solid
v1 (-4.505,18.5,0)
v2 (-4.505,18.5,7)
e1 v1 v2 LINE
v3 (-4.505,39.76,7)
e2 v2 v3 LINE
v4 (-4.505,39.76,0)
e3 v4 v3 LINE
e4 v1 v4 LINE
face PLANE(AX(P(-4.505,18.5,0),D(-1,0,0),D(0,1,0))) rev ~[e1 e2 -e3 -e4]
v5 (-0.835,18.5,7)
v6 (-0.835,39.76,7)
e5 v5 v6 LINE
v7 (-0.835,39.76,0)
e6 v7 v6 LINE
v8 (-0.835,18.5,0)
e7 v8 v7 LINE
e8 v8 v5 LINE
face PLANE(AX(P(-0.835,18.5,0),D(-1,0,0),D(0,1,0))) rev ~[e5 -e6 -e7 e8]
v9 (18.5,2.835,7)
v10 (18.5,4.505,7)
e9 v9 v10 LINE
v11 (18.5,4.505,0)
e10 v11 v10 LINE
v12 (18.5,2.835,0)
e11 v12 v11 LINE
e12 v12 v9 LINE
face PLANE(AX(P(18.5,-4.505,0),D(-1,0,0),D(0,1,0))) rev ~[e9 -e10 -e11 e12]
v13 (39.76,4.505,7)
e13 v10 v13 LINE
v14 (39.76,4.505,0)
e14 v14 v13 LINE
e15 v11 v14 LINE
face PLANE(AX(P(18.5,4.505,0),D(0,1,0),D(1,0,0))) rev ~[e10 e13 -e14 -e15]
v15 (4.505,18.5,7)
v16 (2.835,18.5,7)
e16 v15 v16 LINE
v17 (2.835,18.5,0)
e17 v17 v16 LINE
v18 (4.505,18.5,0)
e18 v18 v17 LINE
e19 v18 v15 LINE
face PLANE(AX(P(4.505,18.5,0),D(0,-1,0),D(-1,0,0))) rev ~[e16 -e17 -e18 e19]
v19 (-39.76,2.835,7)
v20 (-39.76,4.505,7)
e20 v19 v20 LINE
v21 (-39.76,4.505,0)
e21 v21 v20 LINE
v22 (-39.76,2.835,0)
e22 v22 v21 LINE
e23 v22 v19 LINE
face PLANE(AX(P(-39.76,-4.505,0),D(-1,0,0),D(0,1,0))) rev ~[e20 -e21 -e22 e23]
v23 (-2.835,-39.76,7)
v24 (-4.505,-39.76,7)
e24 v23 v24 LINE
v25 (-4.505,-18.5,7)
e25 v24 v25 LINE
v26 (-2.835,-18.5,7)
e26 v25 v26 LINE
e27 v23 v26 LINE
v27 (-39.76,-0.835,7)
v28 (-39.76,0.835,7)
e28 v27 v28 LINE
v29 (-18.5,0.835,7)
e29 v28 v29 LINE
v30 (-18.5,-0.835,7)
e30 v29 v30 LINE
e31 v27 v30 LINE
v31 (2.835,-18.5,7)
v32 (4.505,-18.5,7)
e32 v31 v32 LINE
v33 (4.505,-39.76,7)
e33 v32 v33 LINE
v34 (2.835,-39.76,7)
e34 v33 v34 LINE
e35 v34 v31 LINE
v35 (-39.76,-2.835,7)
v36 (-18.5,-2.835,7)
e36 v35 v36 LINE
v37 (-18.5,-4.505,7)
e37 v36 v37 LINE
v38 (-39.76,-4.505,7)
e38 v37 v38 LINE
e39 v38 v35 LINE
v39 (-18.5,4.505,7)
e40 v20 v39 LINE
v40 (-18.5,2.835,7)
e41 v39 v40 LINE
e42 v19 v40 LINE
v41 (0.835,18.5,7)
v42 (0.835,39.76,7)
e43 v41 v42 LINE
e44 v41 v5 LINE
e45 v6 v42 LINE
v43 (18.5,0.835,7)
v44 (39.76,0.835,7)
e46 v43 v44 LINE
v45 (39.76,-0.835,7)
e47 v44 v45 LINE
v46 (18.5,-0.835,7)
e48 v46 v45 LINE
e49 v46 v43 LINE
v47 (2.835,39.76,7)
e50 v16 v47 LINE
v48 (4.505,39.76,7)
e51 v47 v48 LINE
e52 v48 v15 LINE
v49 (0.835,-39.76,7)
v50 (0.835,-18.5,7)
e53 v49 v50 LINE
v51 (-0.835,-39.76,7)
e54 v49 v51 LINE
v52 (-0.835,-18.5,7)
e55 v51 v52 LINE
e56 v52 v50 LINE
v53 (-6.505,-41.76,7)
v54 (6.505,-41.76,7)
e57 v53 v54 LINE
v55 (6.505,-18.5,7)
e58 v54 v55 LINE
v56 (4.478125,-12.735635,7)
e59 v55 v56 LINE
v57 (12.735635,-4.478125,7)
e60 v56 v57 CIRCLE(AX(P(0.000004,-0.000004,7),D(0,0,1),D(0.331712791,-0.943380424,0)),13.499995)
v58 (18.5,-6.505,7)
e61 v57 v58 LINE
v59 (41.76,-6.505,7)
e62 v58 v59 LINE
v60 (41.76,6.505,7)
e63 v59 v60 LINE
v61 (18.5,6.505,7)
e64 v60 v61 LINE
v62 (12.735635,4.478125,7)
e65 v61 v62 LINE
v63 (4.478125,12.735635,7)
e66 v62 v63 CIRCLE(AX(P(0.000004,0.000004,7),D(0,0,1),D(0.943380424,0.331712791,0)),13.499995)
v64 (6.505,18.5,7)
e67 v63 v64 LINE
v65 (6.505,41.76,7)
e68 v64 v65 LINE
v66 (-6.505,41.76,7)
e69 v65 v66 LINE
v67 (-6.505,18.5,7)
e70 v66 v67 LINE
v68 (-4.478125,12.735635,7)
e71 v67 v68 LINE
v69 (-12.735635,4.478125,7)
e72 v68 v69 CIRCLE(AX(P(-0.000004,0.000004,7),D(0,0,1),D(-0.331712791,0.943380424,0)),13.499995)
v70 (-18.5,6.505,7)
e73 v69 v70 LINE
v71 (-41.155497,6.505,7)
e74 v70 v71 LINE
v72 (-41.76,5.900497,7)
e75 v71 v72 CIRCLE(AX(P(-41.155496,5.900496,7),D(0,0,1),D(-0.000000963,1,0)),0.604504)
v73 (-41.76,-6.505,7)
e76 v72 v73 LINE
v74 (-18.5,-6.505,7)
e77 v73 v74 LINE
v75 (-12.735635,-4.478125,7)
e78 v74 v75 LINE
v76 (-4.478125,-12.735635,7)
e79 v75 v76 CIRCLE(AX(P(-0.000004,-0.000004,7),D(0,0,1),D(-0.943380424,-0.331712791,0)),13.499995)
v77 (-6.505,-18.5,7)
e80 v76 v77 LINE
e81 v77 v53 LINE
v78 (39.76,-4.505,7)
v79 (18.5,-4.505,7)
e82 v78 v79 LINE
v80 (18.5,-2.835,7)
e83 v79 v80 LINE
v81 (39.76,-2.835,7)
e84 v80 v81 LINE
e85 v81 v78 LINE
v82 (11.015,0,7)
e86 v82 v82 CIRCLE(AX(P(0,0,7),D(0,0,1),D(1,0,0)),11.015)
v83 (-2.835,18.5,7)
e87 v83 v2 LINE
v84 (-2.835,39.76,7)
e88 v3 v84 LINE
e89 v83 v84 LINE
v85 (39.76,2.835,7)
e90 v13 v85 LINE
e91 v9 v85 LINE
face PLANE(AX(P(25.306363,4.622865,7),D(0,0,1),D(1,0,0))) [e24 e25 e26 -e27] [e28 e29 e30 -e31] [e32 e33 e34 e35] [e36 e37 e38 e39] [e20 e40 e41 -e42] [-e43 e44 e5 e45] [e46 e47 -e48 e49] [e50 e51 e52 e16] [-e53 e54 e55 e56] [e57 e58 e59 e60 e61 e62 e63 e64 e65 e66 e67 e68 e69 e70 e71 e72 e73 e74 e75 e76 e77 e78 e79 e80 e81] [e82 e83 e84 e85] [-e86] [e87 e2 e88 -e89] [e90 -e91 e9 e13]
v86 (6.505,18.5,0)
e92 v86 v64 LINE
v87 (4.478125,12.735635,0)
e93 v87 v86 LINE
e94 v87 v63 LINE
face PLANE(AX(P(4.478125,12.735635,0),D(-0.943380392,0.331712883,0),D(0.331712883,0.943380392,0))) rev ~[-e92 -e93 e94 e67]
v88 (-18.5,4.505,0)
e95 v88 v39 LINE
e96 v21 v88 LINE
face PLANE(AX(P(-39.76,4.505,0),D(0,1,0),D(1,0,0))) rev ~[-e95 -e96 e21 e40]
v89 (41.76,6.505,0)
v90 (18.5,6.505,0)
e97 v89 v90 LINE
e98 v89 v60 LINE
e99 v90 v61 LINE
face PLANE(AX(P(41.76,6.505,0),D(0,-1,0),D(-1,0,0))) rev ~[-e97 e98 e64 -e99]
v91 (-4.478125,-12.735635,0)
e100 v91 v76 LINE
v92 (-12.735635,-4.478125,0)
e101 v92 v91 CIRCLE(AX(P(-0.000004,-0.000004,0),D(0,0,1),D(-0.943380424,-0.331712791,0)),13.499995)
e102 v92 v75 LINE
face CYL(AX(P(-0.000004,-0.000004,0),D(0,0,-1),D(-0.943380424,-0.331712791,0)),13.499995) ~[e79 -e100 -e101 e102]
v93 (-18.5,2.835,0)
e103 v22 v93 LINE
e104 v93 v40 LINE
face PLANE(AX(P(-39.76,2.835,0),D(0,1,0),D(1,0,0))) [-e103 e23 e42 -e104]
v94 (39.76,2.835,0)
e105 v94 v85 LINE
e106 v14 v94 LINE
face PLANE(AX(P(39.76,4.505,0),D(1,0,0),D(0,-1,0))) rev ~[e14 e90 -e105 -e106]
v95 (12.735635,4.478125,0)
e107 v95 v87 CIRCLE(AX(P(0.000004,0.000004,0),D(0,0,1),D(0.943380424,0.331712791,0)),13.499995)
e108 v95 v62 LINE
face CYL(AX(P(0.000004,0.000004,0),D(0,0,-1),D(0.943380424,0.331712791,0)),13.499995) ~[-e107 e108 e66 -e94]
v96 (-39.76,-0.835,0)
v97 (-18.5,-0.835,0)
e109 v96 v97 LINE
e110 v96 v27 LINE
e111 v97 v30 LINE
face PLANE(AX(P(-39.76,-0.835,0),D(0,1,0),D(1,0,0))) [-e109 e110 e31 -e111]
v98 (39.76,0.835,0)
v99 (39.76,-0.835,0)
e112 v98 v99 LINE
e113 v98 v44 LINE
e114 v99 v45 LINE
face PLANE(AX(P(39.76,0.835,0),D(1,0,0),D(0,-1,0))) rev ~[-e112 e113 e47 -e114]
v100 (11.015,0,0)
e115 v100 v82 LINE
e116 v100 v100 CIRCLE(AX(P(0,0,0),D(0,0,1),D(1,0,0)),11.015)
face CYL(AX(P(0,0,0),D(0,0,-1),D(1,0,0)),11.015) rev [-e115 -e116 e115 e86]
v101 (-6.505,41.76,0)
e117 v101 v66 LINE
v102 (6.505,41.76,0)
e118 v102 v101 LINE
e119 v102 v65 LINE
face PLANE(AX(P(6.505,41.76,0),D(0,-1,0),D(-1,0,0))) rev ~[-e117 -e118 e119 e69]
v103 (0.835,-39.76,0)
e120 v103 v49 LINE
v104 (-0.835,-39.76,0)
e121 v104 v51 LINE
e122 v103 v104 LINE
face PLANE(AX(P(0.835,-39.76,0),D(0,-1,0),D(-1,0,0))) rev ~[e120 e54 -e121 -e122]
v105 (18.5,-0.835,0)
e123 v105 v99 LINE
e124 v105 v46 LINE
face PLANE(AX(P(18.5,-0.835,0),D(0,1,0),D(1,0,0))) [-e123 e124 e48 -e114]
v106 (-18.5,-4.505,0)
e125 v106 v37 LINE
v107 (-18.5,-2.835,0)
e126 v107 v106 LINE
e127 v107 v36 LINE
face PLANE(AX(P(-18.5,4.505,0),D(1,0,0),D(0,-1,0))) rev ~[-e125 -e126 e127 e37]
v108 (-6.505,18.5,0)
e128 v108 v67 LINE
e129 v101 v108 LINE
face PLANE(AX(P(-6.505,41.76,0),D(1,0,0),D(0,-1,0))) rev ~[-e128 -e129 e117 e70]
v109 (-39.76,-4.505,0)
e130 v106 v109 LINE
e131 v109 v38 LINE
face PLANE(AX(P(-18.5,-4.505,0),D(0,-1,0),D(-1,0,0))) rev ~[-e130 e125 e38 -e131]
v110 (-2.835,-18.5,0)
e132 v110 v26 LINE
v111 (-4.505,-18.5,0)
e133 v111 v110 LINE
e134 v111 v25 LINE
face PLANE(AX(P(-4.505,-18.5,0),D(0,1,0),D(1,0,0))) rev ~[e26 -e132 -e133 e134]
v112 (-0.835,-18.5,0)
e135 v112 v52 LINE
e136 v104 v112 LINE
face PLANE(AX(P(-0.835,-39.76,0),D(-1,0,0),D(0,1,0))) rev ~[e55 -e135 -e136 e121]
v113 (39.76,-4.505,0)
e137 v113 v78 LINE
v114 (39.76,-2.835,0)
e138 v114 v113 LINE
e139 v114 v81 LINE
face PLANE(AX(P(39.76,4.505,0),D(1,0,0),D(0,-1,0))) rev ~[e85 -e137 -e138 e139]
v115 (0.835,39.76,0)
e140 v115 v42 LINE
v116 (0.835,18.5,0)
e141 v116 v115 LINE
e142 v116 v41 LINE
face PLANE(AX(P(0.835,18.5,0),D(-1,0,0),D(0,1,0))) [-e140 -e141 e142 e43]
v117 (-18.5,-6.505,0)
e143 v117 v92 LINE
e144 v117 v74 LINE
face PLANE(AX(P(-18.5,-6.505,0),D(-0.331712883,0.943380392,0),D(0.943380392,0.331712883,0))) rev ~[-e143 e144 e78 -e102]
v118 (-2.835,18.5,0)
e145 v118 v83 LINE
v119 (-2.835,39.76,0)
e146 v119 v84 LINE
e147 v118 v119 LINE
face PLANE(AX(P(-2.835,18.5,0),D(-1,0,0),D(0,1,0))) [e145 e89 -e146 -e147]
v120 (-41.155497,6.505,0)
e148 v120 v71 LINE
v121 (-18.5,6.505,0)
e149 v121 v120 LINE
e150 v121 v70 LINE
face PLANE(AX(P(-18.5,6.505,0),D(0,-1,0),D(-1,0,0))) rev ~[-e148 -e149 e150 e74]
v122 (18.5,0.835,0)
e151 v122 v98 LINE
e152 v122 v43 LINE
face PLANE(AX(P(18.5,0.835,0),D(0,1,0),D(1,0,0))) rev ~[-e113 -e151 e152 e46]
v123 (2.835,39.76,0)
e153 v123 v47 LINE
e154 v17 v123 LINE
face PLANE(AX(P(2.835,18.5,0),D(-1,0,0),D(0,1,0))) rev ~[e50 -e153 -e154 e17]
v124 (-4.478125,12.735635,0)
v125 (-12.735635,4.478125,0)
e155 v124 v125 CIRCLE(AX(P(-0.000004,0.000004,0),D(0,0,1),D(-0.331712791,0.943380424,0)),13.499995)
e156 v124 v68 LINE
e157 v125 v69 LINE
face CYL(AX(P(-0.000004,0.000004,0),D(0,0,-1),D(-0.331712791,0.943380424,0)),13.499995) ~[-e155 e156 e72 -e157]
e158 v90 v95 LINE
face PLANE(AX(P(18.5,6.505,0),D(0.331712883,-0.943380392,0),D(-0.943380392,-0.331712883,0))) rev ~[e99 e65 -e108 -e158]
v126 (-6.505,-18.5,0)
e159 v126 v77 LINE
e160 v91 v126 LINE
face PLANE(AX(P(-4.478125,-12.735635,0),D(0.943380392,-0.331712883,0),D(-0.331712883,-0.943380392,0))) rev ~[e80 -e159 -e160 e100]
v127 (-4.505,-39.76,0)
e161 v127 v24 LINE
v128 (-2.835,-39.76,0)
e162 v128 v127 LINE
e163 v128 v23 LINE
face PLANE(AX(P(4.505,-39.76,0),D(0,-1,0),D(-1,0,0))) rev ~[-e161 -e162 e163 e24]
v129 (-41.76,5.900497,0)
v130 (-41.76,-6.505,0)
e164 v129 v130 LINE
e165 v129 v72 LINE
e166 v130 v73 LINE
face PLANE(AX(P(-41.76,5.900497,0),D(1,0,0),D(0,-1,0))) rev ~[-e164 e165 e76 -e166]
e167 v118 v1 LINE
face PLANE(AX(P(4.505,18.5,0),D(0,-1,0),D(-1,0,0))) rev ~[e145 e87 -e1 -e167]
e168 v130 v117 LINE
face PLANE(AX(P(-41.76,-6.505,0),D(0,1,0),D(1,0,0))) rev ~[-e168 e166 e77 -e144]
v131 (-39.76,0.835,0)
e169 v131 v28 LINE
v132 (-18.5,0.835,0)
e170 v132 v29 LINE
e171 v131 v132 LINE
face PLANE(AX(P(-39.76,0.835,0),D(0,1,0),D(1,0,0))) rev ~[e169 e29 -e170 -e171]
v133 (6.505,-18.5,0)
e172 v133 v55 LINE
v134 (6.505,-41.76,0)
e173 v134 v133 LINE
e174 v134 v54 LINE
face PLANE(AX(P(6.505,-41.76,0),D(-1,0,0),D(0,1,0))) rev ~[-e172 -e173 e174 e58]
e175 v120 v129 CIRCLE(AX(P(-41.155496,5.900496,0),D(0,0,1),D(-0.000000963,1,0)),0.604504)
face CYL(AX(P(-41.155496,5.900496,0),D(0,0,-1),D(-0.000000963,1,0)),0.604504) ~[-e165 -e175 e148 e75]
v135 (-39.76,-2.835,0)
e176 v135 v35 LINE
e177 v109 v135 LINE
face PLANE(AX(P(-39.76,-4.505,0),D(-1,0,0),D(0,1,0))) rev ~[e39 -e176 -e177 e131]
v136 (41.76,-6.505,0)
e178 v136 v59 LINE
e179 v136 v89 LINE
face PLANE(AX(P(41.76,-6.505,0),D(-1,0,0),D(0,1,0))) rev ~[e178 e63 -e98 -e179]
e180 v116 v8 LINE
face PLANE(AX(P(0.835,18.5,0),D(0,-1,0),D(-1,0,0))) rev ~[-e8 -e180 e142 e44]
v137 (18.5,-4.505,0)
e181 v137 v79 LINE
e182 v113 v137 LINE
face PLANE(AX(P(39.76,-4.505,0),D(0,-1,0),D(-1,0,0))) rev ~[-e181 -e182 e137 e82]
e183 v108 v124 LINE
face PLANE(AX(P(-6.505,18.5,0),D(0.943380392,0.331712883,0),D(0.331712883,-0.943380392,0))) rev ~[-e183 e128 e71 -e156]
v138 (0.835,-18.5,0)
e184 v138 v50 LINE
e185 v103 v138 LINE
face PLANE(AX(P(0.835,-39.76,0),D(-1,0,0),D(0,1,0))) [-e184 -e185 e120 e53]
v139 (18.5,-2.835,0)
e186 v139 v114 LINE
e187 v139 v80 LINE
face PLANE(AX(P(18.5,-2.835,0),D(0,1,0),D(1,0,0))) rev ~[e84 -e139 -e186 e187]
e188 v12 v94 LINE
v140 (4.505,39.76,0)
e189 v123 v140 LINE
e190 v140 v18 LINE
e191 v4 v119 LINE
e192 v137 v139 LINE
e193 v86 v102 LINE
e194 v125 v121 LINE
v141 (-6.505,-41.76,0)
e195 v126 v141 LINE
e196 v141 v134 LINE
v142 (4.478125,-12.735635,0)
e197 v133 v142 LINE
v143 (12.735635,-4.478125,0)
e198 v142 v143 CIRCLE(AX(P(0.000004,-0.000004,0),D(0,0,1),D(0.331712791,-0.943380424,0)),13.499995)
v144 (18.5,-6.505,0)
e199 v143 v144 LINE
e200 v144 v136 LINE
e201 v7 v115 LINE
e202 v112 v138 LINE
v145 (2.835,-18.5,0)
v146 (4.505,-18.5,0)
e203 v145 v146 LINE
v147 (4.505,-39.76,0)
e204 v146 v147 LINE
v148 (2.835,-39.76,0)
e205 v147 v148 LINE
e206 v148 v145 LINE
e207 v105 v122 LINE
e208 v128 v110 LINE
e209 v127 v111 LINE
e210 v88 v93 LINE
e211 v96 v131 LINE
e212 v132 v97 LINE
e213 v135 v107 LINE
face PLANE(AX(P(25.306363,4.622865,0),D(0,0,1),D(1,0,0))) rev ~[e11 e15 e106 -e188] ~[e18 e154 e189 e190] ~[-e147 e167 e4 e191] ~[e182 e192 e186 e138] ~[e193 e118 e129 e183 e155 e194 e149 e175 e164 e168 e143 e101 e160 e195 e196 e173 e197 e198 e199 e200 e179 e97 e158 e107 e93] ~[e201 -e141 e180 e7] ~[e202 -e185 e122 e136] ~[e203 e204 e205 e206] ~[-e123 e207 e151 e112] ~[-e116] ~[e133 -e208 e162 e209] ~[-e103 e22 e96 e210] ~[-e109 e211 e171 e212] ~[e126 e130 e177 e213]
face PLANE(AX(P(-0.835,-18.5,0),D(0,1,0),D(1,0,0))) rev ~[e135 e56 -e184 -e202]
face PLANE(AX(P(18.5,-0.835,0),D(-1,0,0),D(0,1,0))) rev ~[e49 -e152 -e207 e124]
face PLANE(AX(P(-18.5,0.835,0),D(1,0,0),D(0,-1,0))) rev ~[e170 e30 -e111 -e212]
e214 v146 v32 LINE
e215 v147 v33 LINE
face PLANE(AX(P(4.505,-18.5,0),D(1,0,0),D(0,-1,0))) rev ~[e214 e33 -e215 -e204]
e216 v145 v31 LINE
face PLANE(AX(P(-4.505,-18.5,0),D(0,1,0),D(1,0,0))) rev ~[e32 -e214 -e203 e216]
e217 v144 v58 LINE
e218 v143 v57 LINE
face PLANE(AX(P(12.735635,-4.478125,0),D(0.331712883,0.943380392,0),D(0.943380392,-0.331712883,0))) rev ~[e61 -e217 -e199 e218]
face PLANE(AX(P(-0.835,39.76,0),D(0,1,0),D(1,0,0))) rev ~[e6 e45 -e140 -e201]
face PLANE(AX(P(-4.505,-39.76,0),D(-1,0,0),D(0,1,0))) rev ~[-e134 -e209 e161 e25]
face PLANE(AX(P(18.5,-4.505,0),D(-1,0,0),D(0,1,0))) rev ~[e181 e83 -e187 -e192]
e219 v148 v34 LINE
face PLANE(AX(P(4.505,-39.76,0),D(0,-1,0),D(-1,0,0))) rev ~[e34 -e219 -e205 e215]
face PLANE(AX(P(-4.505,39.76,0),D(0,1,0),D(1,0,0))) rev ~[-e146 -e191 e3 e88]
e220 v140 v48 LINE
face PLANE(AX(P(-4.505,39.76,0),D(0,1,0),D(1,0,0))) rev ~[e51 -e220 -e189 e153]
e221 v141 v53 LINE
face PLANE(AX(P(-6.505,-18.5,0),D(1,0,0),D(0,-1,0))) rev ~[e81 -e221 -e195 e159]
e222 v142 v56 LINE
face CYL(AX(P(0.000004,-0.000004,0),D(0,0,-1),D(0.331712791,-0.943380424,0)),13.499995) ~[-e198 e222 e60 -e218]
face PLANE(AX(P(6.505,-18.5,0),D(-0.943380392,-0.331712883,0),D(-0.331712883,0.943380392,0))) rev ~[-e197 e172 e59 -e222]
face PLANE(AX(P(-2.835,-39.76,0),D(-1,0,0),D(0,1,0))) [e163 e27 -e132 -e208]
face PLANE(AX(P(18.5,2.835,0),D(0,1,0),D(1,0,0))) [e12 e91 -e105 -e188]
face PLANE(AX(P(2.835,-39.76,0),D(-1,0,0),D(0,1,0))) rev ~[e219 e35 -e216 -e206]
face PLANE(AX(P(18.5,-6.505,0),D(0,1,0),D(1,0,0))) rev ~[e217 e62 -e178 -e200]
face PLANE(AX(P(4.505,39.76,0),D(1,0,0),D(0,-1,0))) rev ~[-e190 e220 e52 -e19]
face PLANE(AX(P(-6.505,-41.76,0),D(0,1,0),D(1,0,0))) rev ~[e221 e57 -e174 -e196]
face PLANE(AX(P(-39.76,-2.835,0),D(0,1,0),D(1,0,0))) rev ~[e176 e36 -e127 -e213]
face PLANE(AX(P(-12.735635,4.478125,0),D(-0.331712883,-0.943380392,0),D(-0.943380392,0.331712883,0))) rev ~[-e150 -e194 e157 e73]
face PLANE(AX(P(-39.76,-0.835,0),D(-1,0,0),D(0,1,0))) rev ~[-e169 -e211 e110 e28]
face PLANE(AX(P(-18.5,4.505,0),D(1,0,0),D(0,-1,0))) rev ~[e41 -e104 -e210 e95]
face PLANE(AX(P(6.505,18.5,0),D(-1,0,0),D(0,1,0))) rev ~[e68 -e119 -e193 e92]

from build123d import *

# Parameters (mm, degrees)
F0_R     = 11.015
F1_DEPTH = 7
F2_DEPTH = 7
F3_DEPTH = 7
F0_W     = 2
F0_H     = 21.26
F0_W_2   = 21.26
F0_H_2   = 2
F4_DEPTH = 7


with BuildPart() as f1:
    # F0 (on Top) → F1 (new body)
    with BuildSketch(Plane.XY):
        with BuildLine():
            ThreePointArc((12.735635, 4.478125), (13.307537, 2.271445), (13.5, 0))
            Line((13.5, 0), (18.5, 0))
            Line((18.5, 0), (18.5, 0.835))
            Line((18.5, 0.835), (18.5, 2.835))
            Line((18.5, 2.835), (18.5, 4.505))
            Line((18.5, 4.505), (39.76, 4.505))
            Line((39.76, 4.505), (39.76, 6.505))
            Line((39.76, 6.505), (18.5, 6.505))
            Line((18.5, 6.505), (12.735635, 4.478125))
        make_face()
        with BuildLine():
            ThreePointArc((0, 13.5), (2.271445, 13.307537), (4.478125, 12.735635))
            Line((4.478125, 12.735635), (6.505, 18.5))
            Line((6.505, 18.5), (6.505, 39.76))
            Line((6.505, 39.76), (4.505, 39.76))
            Line((4.505, 39.76), (4.505, 18.5))
            Line((4.505, 18.5), (2.835, 18.5))
            Line((2.835, 18.5), (0.835, 18.5))
            Line((0.835, 18.5), (0, 18.5))
            Line((0, 18.5), (0, 13.5))
        make_face()
        with BuildLine():
            ThreePointArc((-4.478125, 12.735635), (-2.271445, 13.307537), (0, 13.5))
            Line((0, 13.5), (0, 18.5))
            Line((0, 18.5), (-0.835, 18.5))
            Line((-0.835, 18.5), (-2.835, 18.5))
            Line((-2.835, 18.5), (-4.505, 18.5))
            Line((-4.505, 18.5), (-4.505, 39.76))
            Line((-4.505, 39.76), (-6.505, 39.76))
            Line((-6.505, 39.76), (-6.505, 18.5))
            Line((-6.505, 18.5), (-4.478125, 12.735635))
        make_face()
        with BuildLine():
            ThreePointArc((-13.5, 0), (-13.307537, 2.271445), (-12.735635, 4.478125))
            Line((-12.735635, 4.478125), (-18.5, 6.505))
            Line((-18.5, 6.505), (-39.76, 6.505))
            Line((-39.76, 6.505), (-39.76, 4.505))
            Line((-39.76, 4.505), (-18.5, 4.505))
            Line((-18.5, 4.505), (-18.5, 2.835))
            Line((-18.5, 2.835), (-18.5, 0.835))
            Line((-18.5, 0.835), (-18.5, 0))
            Line((-18.5, 0), (-13.5, 0))
        make_face()
        with BuildLine():
            Line((-18.5, -6.505), (-12.735635, -4.478125))
            ThreePointArc((-12.735635, -4.478125), (-13.307537, -2.271445), (-13.5, 0))
            Line((-13.5, 0), (-18.5, 0))
            Line((-18.5, 0), (-18.5, -0.835))
            Line((-18.5, -0.835), (-18.5, -2.835))
            Line((-18.5, -2.835), (-18.5, -4.505))
            Line((-18.5, -4.505), (-39.76, -4.505))
            Line((-39.76, -4.505), (-39.76, -6.505))
            Line((-39.76, -6.505), (-18.5, -6.505))
        make_face()
        with BuildLine():
            Line((0, -18.5), (0, -13.5))
            ThreePointArc((0, -13.5), (-2.271445, -13.307537), (-4.478125, -12.735635))
            Line((-4.478125, -12.735635), (-6.505, -18.5))
            Line((-6.505, -18.5), (-6.505, -39.76))
            Line((-6.505, -39.76), (-4.505, -39.76))
            Line((-4.505, -39.76), (-4.505, -18.5))
            Line((-4.505, -18.5), (-2.835, -18.5))
            Line((-2.835, -18.5), (-0.835, -18.5))
            Line((-0.835, -18.5), (0, -18.5))
        make_face()
        with BuildLine():
            Line((6.505, -18.5), (4.478125, -12.735635))
            ThreePointArc((4.478125, -12.735635), (2.271445, -13.307537), (0, -13.5))
            Line((0, -13.5), (0, -18.5))
            Line((0, -18.5), (0.835, -18.5))
            Line((0.835, -18.5), (2.835, -18.5))
            Line((2.835, -18.5), (4.505, -18.5))
            Line((4.505, -18.5), (4.505, -39.76))
            Line((4.505, -39.76), (6.505, -39.76))
            Line((6.505, -39.76), (6.505, -18.5))
        make_face()
        with BuildLine():
            Line((18.5, 0), (13.5, 0))
            ThreePointArc((13.5, 0), (13.307537, -2.271445), (12.735635, -4.478125))
            Line((12.735635, -4.478125), (18.5, -6.505))
            Line((18.5, -6.505), (39.76, -6.505))
            Line((39.76, -6.505), (39.76, -4.505))
            Line((39.76, -4.505), (18.5, -4.505))
            Line((18.5, -4.505), (18.5, -2.835))
            Line((18.5, -2.835), (18.5, -0.835))
            Line((18.5, -0.835), (18.5, 0))
        make_face()
        Polygon((4.505, 39.76), (6.505, 39.76), (6.505, 41.76), (-6.505, 41.76), (-6.505, 39.76), (-4.505, 39.76), (-2.835, 39.76), (-0.835, 39.76), (0, 39.76), (0.835, 39.76), (2.835, 39.76), align=None)
        with BuildLine():
            Line((-39.76, 4.505), (-39.76, 6.505))
            Line((-39.76, 6.505), (-41.155497, 6.505))
            ThreePointArc((-41.155497, 6.505), (-41.582945, 6.327945), (-41.76, 5.900497))
            Line((-41.76, 5.900497), (-41.76, -6.505))
            Line((-41.76, -6.505), (-39.76, -6.505))
            Line((-39.76, -6.505), (-39.76, -4.505))
            Line((-39.76, -4.505), (-39.76, -2.835))
            Line((-39.76, -2.835), (-39.76, -0.835))
            Line((-39.76, -0.835), (-39.76, 0))
            Line((-39.76, 0), (-39.76, 0.835))
            Line((-39.76, 0.835), (-39.76, 2.835))
            Line((-39.76, 2.835), (-39.76, 4.505))
        make_face()
        Polygon((6.505, -41.76), (6.505, -39.76), (4.505, -39.76), (2.835, -39.76), (0.835, -39.76), (0, -39.76), (-0.835, -39.76), (-2.835, -39.76), (-4.505, -39.76), (-6.505, -39.76), (-6.505, -41.76), align=None)
        Polygon((41.76, 6.505), (39.76, 6.505), (39.76, 4.505), (39.76, 2.835), (39.76, 0.835), (39.76, 0), (39.76, -0.835), (39.76, -2.835), (39.76, -4.505), (39.76, -6.505), (41.76, -6.505), align=None)
        with BuildLine():
            ThreePointArc((12.735635, -4.478125), (13.307537, -2.271445), (13.5, 0))
            ThreePointArc((13.5, 0), (13.307537, 2.271445), (12.735635, 4.478125))
            ThreePointArc((12.735635, 4.478125), (9.545942, 9.545942), (4.478125, 12.735635))
            ThreePointArc((4.478125, 12.735635), (2.271445, 13.307537), (0, 13.5))
            ThreePointArc((0, 13.5), (-2.271445, 13.307537), (-4.478125, 12.735635))
            ThreePointArc((-4.478125, 12.735635), (-9.545942, 9.545942), (-12.735635, 4.478125))
            ThreePointArc((-12.735635, 4.478125), (-13.307537, 2.271445), (-13.5, 0))
            ThreePointArc((-13.5, 0), (-13.307537, -2.271445), (-12.735635, -4.478125))
            ThreePointArc((-12.735635, -4.478125), (-9.545942, -9.545942), (-4.478125, -12.735635))
            ThreePointArc((-4.478125, -12.735635), (-2.271445, -13.307537), (0, -13.5))
            ThreePointArc((0, -13.5), (2.271445, -13.307537), (4.478125, -12.735635))
            ThreePointArc((4.478125, -12.735635), (9.545942, -9.545942), (12.735635, -4.478125))
        make_face()
        Circle(F0_R, mode=Mode.SUBTRACT)
    extrude(amount=F1_DEPTH)

    # F0 (on Top) → F2 (join)
    with BuildSketch(Plane.XY):
        with BuildLine():
            ThreePointArc((12.735635, 4.478125), (13.307537, 2.271445), (13.5, 0))
            Line((13.5, 0), (18.5, 0))
            Line((18.5, 0), (18.5, 0.835))
            Line((18.5, 0.835), (18.5, 2.835))
            Line((18.5, 2.835), (18.5, 4.505))
            Line((18.5, 4.505), (39.76, 4.505))
            Line((39.76, 4.505), (39.76, 6.505))
            Line((39.76, 6.505), (18.5, 6.505))
            Line((18.5, 6.505), (12.735635, 4.478125))
        make_face()
        with BuildLine():
            ThreePointArc((0, 13.5), (2.271445, 13.307537), (4.478125, 12.735635))
            Line((4.478125, 12.735635), (6.505, 18.5))
            Line((6.505, 18.5), (6.505, 39.76))
            Line((6.505, 39.76), (4.505, 39.76))
            Line((4.505, 39.76), (4.505, 18.5))
            Line((4.505, 18.5), (2.835, 18.5))
            Line((2.835, 18.5), (0.835, 18.5))
            Line((0.835, 18.5), (0, 18.5))
            Line((0, 18.5), (0, 13.5))
        make_face()
        with BuildLine():
            ThreePointArc((-4.478125, 12.735635), (-2.271445, 13.307537), (0, 13.5))
            Line((0, 13.5), (0, 18.5))
            Line((0, 18.5), (-0.835, 18.5))
            Line((-0.835, 18.5), (-2.835, 18.5))
            Line((-2.835, 18.5), (-4.505, 18.5))
            Line((-4.505, 18.5), (-4.505, 39.76))
            Line((-4.505, 39.76), (-6.505, 39.76))
            Line((-6.505, 39.76), (-6.505, 18.5))
            Line((-6.505, 18.5), (-4.478125, 12.735635))
        make_face()
        with BuildLine():
            ThreePointArc((-13.5, 0), (-13.307537, 2.271445), (-12.735635, 4.478125))
            Line((-12.735635, 4.478125), (-18.5, 6.505))
            Line((-18.5, 6.505), (-39.76, 6.505))
            Line((-39.76, 6.505), (-39.76, 4.505))
            Line((-39.76, 4.505), (-18.5, 4.505))
            Line((-18.5, 4.505), (-18.5, 2.835))
            Line((-18.5, 2.835), (-18.5, 0.835))
            Line((-18.5, 0.835), (-18.5, 0))
            Line((-18.5, 0), (-13.5, 0))
        make_face()
        with BuildLine():
            Line((-18.5, -6.505), (-12.735635, -4.478125))
            ThreePointArc((-12.735635, -4.478125), (-13.307537, -2.271445), (-13.5, 0))
            Line((-13.5, 0), (-18.5, 0))
            Line((-18.5, 0), (-18.5, -0.835))
            Line((-18.5, -0.835), (-18.5, -2.835))
            Line((-18.5, -2.835), (-18.5, -4.505))
            Line((-18.5, -4.505), (-39.76, -4.505))
            Line((-39.76, -4.505), (-39.76, -6.505))
            Line((-39.76, -6.505), (-18.5, -6.505))
        make_face()
        with BuildLine():
            Line((0, -18.5), (0, -13.5))
            ThreePointArc((0, -13.5), (-2.271445, -13.307537), (-4.478125, -12.735635))
            Line((-4.478125, -12.735635), (-6.505, -18.5))
            Line((-6.505, -18.5), (-6.505, -39.76))
            Line((-6.505, -39.76), (-4.505, -39.76))
            Line((-4.505, -39.76), (-4.505, -18.5))
            Line((-4.505, -18.5), (-2.835, -18.5))
            Line((-2.835, -18.5), (-0.835, -18.5))
            Line((-0.835, -18.5), (0, -18.5))
        make_face()
        with BuildLine():
            Line((6.505, -18.5), (4.478125, -12.735635))
            ThreePointArc((4.478125, -12.735635), (2.271445, -13.307537), (0, -13.5))
            Line((0, -13.5), (0, -18.5))
            Line((0, -18.5), (0.835, -18.5))
            Line((0.835, -18.5), (2.835, -18.5))
            Line((2.835, -18.5), (4.505, -18.5))
            Line((4.505, -18.5), (4.505, -39.76))
            Line((4.505, -39.76), (6.505, -39.76))
            Line((6.505, -39.76), (6.505, -18.5))
        make_face()
        with BuildLine():
            Line((18.5, 0), (13.5, 0))
            ThreePointArc((13.5, 0), (13.307537, -2.271445), (12.735635, -4.478125))
            Line((12.735635, -4.478125), (18.5, -6.505))
            Line((18.5, -6.505), (39.76, -6.505))
            Line((39.76, -6.505), (39.76, -4.505))
            Line((39.76, -4.505), (18.5, -4.505))
            Line((18.5, -4.505), (18.5, -2.835))
            Line((18.5, -2.835), (18.5, -0.835))
            Line((18.5, -0.835), (18.5, 0))
        make_face()
        Polygon((4.505, 39.76), (6.505, 39.76), (6.505, 41.76), (-6.505, 41.76), (-6.505, 39.76), (-4.505, 39.76), (-2.835, 39.76), (-0.835, 39.76), (0, 39.76), (0.835, 39.76), (2.835, 39.76), align=None)
        with BuildLine():
            Line((-39.76, 4.505), (-39.76, 6.505))
            Line((-39.76, 6.505), (-41.155497, 6.505))
            ThreePointArc((-41.155497, 6.505), (-41.582945, 6.327945), (-41.76, 5.900497))
            Line((-41.76, 5.900497), (-41.76, -6.505))
            Line((-41.76, -6.505), (-39.76, -6.505))
            Line((-39.76, -6.505), (-39.76, -4.505))
            Line((-39.76, -4.505), (-39.76, -2.835))
            Line((-39.76, -2.835), (-39.76, -0.835))
            Line((-39.76, -0.835), (-39.76, 0))
            Line((-39.76, 0), (-39.76, 0.835))
            Line((-39.76, 0.835), (-39.76, 2.835))
            Line((-39.76, 2.835), (-39.76, 4.505))
        make_face()
        Polygon((6.505, -41.76), (6.505, -39.76), (4.505, -39.76), (2.835, -39.76), (0.835, -39.76), (0, -39.76), (-0.835, -39.76), (-2.835, -39.76), (-4.505, -39.76), (-6.505, -39.76), (-6.505, -41.76), align=None)
        Polygon((41.76, 6.505), (39.76, 6.505), (39.76, 4.505), (39.76, 2.835), (39.76, 0.835), (39.76, 0), (39.76, -0.835), (39.76, -2.835), (39.76, -4.505), (39.76, -6.505), (41.76, -6.505), align=None)
        with BuildLine():
            ThreePointArc((12.735635, -4.478125), (13.307537, -2.271445), (13.5, 0))
            ThreePointArc((13.5, 0), (13.307537, 2.271445), (12.735635, 4.478125))
            ThreePointArc((12.735635, 4.478125), (9.545942, 9.545942), (4.478125, 12.735635))
            ThreePointArc((4.478125, 12.735635), (2.271445, 13.307537), (0, 13.5))
            ThreePointArc((0, 13.5), (-2.271445, 13.307537), (-4.478125, 12.735635))
            ThreePointArc((-4.478125, 12.735635), (-9.545942, 9.545942), (-12.735635, 4.478125))
            ThreePointArc((-12.735635, 4.478125), (-13.307537, 2.271445), (-13.5, 0))
            ThreePointArc((-13.5, 0), (-13.307537, -2.271445), (-12.735635, -4.478125))
            ThreePointArc((-12.735635, -4.478125), (-9.545942, -9.545942), (-4.478125, -12.735635))
            ThreePointArc((-4.478125, -12.735635), (-2.271445, -13.307537), (0, -13.5))
            ThreePointArc((0, -13.5), (2.271445, -13.307537), (4.478125, -12.735635))
            ThreePointArc((4.478125, -12.735635), (9.545942, -9.545942), (12.735635, -4.478125))
        make_face()
        Circle(F0_R, mode=Mode.SUBTRACT)
    extrude(amount=F2_DEPTH)

    # F0 (on Top) → F3 (join)
    with BuildSketch(Plane.XY):
        with BuildLine():
            ThreePointArc((12.735635, 4.478125), (13.307537, 2.271445), (13.5, 0))
            Line((13.5, 0), (18.5, 0))
            Line((18.5, 0), (18.5, 0.835))
            Line((18.5, 0.835), (18.5, 2.835))
            Line((18.5, 2.835), (18.5, 4.505))
            Line((18.5, 4.505), (39.76, 4.505))
            Line((39.76, 4.505), (39.76, 6.505))
            Line((39.76, 6.505), (18.5, 6.505))
            Line((18.5, 6.505), (12.735635, 4.478125))
        make_face()
        with BuildLine():
            ThreePointArc((0, 13.5), (2.271445, 13.307537), (4.478125, 12.735635))
            Line((4.478125, 12.735635), (6.505, 18.5))
            Line((6.505, 18.5), (6.505, 39.76))
            Line((6.505, 39.76), (4.505, 39.76))
            Line((4.505, 39.76), (4.505, 18.5))
            Line((4.505, 18.5), (2.835, 18.5))
            Line((2.835, 18.5), (0.835, 18.5))
            Line((0.835, 18.5), (0, 18.5))
            Line((0, 18.5), (0, 13.5))
        make_face()
        with BuildLine():
            ThreePointArc((-4.478125, 12.735635), (-2.271445, 13.307537), (0, 13.5))
            Line((0, 13.5), (0, 18.5))
            Line((0, 18.5), (-0.835, 18.5))
            Line((-0.835, 18.5), (-2.835, 18.5))
            Line((-2.835, 18.5), (-4.505, 18.5))
            Line((-4.505, 18.5), (-4.505, 39.76))
            Line((-4.505, 39.76), (-6.505, 39.76))
            Line((-6.505, 39.76), (-6.505, 18.5))
            Line((-6.505, 18.5), (-4.478125, 12.735635))
        make_face()
        with BuildLine():
            ThreePointArc((-13.5, 0), (-13.307537, 2.271445), (-12.735635, 4.478125))
            Line((-12.735635, 4.478125), (-18.5, 6.505))
            Line((-18.5, 6.505), (-39.76, 6.505))
            Line((-39.76, 6.505), (-39.76, 4.505))
            Line((-39.76, 4.505), (-18.5, 4.505))
            Line((-18.5, 4.505), (-18.5, 2.835))
            Line((-18.5, 2.835), (-18.5, 0.835))
            Line((-18.5, 0.835), (-18.5, 0))
            Line((-18.5, 0), (-13.5, 0))
        make_face()
        with BuildLine():
            Line((-18.5, -6.505), (-12.735635, -4.478125))
            ThreePointArc((-12.735635, -4.478125), (-13.307537, -2.271445), (-13.5, 0))
            Line((-13.5, 0), (-18.5, 0))
            Line((-18.5, 0), (-18.5, -0.835))
            Line((-18.5, -0.835), (-18.5, -2.835))
            Line((-18.5, -2.835), (-18.5, -4.505))
            Line((-18.5, -4.505), (-39.76, -4.505))
            Line((-39.76, -4.505), (-39.76, -6.505))
            Line((-39.76, -6.505), (-18.5, -6.505))
        make_face()
        with BuildLine():
            Line((0, -18.5), (0, -13.5))
            ThreePointArc((0, -13.5), (-2.271445, -13.307537), (-4.478125, -12.735635))
            Line((-4.478125, -12.735635), (-6.505, -18.5))
            Line((-6.505, -18.5), (-6.505, -39.76))
            Line((-6.505, -39.76), (-4.505, -39.76))
            Line((-4.505, -39.76), (-4.505, -18.5))
            Line((-4.505, -18.5), (-2.835, -18.5))
            Line((-2.835, -18.5), (-0.835, -18.5))
            Line((-0.835, -18.5), (0, -18.5))
        make_face()
        with BuildLine():
            Line((6.505, -18.5), (4.478125, -12.735635))
            ThreePointArc((4.478125, -12.735635), (2.271445, -13.307537), (0, -13.5))
            Line((0, -13.5), (0, -18.5))
            Line((0, -18.5), (0.835, -18.5))
            Line((0.835, -18.5), (2.835, -18.5))
            Line((2.835, -18.5), (4.505, -18.5))
            Line((4.505, -18.5), (4.505, -39.76))
            Line((4.505, -39.76), (6.505, -39.76))
            Line((6.505, -39.76), (6.505, -18.5))
        make_face()
        with BuildLine():
            Line((18.5, 0), (13.5, 0))
            ThreePointArc((13.5, 0), (13.307537, -2.271445), (12.735635, -4.478125))
            Line((12.735635, -4.478125), (18.5, -6.505))
            Line((18.5, -6.505), (39.76, -6.505))
            Line((39.76, -6.505), (39.76, -4.505))
            Line((39.76, -4.505), (18.5, -4.505))
            Line((18.5, -4.505), (18.5, -2.835))
            Line((18.5, -2.835), (18.5, -0.835))
            Line((18.5, -0.835), (18.5, 0))
        make_face()
        Polygon((4.505, 39.76), (6.505, 39.76), (6.505, 41.76), (-6.505, 41.76), (-6.505, 39.76), (-4.505, 39.76), (-2.835, 39.76), (-0.835, 39.76), (0, 39.76), (0.835, 39.76), (2.835, 39.76), align=None)
        with BuildLine():
            Line((-39.76, 4.505), (-39.76, 6.505))
            Line((-39.76, 6.505), (-41.155497, 6.505))
            ThreePointArc((-41.155497, 6.505), (-41.582945, 6.327945), (-41.76, 5.900497))
            Line((-41.76, 5.900497), (-41.76, -6.505))
            Line((-41.76, -6.505), (-39.76, -6.505))
            Line((-39.76, -6.505), (-39.76, -4.505))
            Line((-39.76, -4.505), (-39.76, -2.835))
            Line((-39.76, -2.835), (-39.76, -0.835))
            Line((-39.76, -0.835), (-39.76, 0))
            Line((-39.76, 0), (-39.76, 0.835))
            Line((-39.76, 0.835), (-39.76, 2.835))
            Line((-39.76, 2.835), (-39.76, 4.505))
        make_face()
        Polygon((6.505, -41.76), (6.505, -39.76), (4.505, -39.76), (2.835, -39.76), (0.835, -39.76), (0, -39.76), (-0.835, -39.76), (-2.835, -39.76), (-4.505, -39.76), (-6.505, -39.76), (-6.505, -41.76), align=None)
        Polygon((41.76, 6.505), (39.76, 6.505), (39.76, 4.505), (39.76, 2.835), (39.76, 0.835), (39.76, 0), (39.76, -0.835), (39.76, -2.835), (39.76, -4.505), (39.76, -6.505), (41.76, -6.505), align=None)
        with BuildLine():
            ThreePointArc((12.735635, -4.478125), (13.307537, -2.271445), (13.5, 0))
            ThreePointArc((13.5, 0), (13.307537, 2.271445), (12.735635, 4.478125))
            ThreePointArc((12.735635, 4.478125), (9.545942, 9.545942), (4.478125, 12.735635))
            ThreePointArc((4.478125, 12.735635), (2.271445, 13.307537), (0, 13.5))
            ThreePointArc((0, 13.5), (-2.271445, 13.307537), (-4.478125, 12.735635))
            ThreePointArc((-4.478125, 12.735635), (-9.545942, 9.545942), (-12.735635, 4.478125))
            ThreePointArc((-12.735635, 4.478125), (-13.307537, 2.271445), (-13.5, 0))
            ThreePointArc((-13.5, 0), (-13.307537, -2.271445), (-12.735635, -4.478125))
            ThreePointArc((-12.735635, -4.478125), (-9.545942, -9.545942), (-4.478125, -12.735635))
            ThreePointArc((-4.478125, -12.735635), (-2.271445, -13.307537), (0, -13.5))
            ThreePointArc((0, -13.5), (2.271445, -13.307537), (4.478125, -12.735635))
            ThreePointArc((4.478125, -12.735635), (9.545942, -9.545942), (12.735635, -4.478125))
        make_face()
        Circle(F0_R, mode=Mode.SUBTRACT)
    extrude(amount=F3_DEPTH)

    # F0 (on Top) → F4 (join)
    with BuildSketch(Plane.XY):
        with BuildLine():
            ThreePointArc((12.735635, 4.478125), (13.307537, 2.271445), (13.5, 0))
            Line((13.5, 0), (18.5, 0))
            Line((18.5, 0), (18.5, 0.835))
            Line((18.5, 0.835), (18.5, 2.835))
            Line((18.5, 2.835), (18.5, 4.505))
            Line((18.5, 4.505), (39.76, 4.505))
            Line((39.76, 4.505), (39.76, 6.505))
            Line((39.76, 6.505), (18.5, 6.505))
            Line((18.5, 6.505), (12.735635, 4.478125))
        make_face()
        with BuildLine():
            ThreePointArc((0, 13.5), (2.271445, 13.307537), (4.478125, 12.735635))
            Line((4.478125, 12.735635), (6.505, 18.5))
            Line((6.505, 18.5), (6.505, 39.76))
            Line((6.505, 39.76), (4.505, 39.76))
            Line((4.505, 39.76), (4.505, 18.5))
            Line((4.505, 18.5), (2.835, 18.5))
            Line((2.835, 18.5), (0.835, 18.5))
            Line((0.835, 18.5), (0, 18.5))
            Line((0, 18.5), (0, 13.5))
        make_face()
        with BuildLine():
            ThreePointArc((-4.478125, 12.735635), (-2.271445, 13.307537), (0, 13.5))
            Line((0, 13.5), (0, 18.5))
            Line((0, 18.5), (-0.835, 18.5))
            Line((-0.835, 18.5), (-2.835, 18.5))
            Line((-2.835, 18.5), (-4.505, 18.5))
            Line((-4.505, 18.5), (-4.505, 39.76))
            Line((-4.505, 39.76), (-6.505, 39.76))
            Line((-6.505, 39.76), (-6.505, 18.5))
            Line((-6.505, 18.5), (-4.478125, 12.735635))
        make_face()
        with BuildLine():
            ThreePointArc((-13.5, 0), (-13.307537, 2.271445), (-12.735635, 4.478125))
            Line((-12.735635, 4.478125), (-18.5, 6.505))
            Line((-18.5, 6.505), (-39.76, 6.505))
            Line((-39.76, 6.505), (-39.76, 4.505))
            Line((-39.76, 4.505), (-18.5, 4.505))
            Line((-18.5, 4.505), (-18.5, 2.835))
            Line((-18.5, 2.835), (-18.5, 0.835))
            Line((-18.5, 0.835), (-18.5, 0))
            Line((-18.5, 0), (-13.5, 0))
        make_face()
        with BuildLine():
            Line((-18.5, -6.505), (-12.735635, -4.478125))
            ThreePointArc((-12.735635, -4.478125), (-13.307537, -2.271445), (-13.5, 0))
            Line((-13.5, 0), (-18.5, 0))
            Line((-18.5, 0), (-18.5, -0.835))
            Line((-18.5, -0.835), (-18.5, -2.835))
            Line((-18.5, -2.835), (-18.5, -4.505))
            Line((-18.5, -4.505), (-39.76, -4.505))
            Line((-39.76, -4.505), (-39.76, -6.505))
            Line((-39.76, -6.505), (-18.5, -6.505))
        make_face()
        with BuildLine():
            Line((0, -18.5), (0, -13.5))
            ThreePointArc((0, -13.5), (-2.271445, -13.307537), (-4.478125, -12.735635))
            Line((-4.478125, -12.735635), (-6.505, -18.5))
            Line((-6.505, -18.5), (-6.505, -39.76))
            Line((-6.505, -39.76), (-4.505, -39.76))
            Line((-4.505, -39.76), (-4.505, -18.5))
            Line((-4.505, -18.5), (-2.835, -18.5))
            Line((-2.835, -18.5), (-0.835, -18.5))
            Line((-0.835, -18.5), (0, -18.5))
        make_face()
        with BuildLine():
            Line((6.505, -18.5), (4.478125, -12.735635))
            ThreePointArc((4.478125, -12.735635), (2.271445, -13.307537), (0, -13.5))
            Line((0, -13.5), (0, -18.5))
            Line((0, -18.5), (0.835, -18.5))
            Line((0.835, -18.5), (2.835, -18.5))
            Line((2.835, -18.5), (4.505, -18.5))
            Line((4.505, -18.5), (4.505, -39.76))
            Line((4.505, -39.76), (6.505, -39.76))
            Line((6.505, -39.76), (6.505, -18.5))
        make_face()
        with BuildLine():
            Line((18.5, 0), (13.5, 0))
            ThreePointArc((13.5, 0), (13.307537, -2.271445), (12.735635, -4.478125))
            Line((12.735635, -4.478125), (18.5, -6.505))
            Line((18.5, -6.505), (39.76, -6.505))
            Line((39.76, -6.505), (39.76, -4.505))
            Line((39.76, -4.505), (18.5, -4.505))
            Line((18.5, -4.505), (18.5, -2.835))
            Line((18.5, -2.835), (18.5, -0.835))
            Line((18.5, -0.835), (18.5, 0))
        make_face()
        Polygon((4.505, 39.76), (6.505, 39.76), (6.505, 41.76), (-6.505, 41.76), (-6.505, 39.76), (-4.505, 39.76), (-2.835, 39.76), (-0.835, 39.76), (0, 39.76), (0.835, 39.76), (2.835, 39.76), align=None)
        with BuildLine():
            Line((-39.76, 4.505), (-39.76, 6.505))
            Line((-39.76, 6.505), (-41.155497, 6.505))
            ThreePointArc((-41.155497, 6.505), (-41.582945, 6.327945), (-41.76, 5.900497))
            Line((-41.76, 5.900497), (-41.76, -6.505))
            Line((-41.76, -6.505), (-39.76, -6.505))
            Line((-39.76, -6.505), (-39.76, -4.505))
            Line((-39.76, -4.505), (-39.76, -2.835))
            Line((-39.76, -2.835), (-39.76, -0.835))
            Line((-39.76, -0.835), (-39.76, 0))
            Line((-39.76, 0), (-39.76, 0.835))
            Line((-39.76, 0.835), (-39.76, 2.835))
            Line((-39.76, 2.835), (-39.76, 4.505))
        make_face()
        Polygon((6.505, -41.76), (6.505, -39.76), (4.505, -39.76), (2.835, -39.76), (0.835, -39.76), (0, -39.76), (-0.835, -39.76), (-2.835, -39.76), (-4.505, -39.76), (-6.505, -39.76), (-6.505, -41.76), align=None)
        Polygon((41.76, 6.505), (39.76, 6.505), (39.76, 4.505), (39.76, 2.835), (39.76, 0.835), (39.76, 0), (39.76, -0.835), (39.76, -2.835), (39.76, -4.505), (39.76, -6.505), (41.76, -6.505), align=None)
        with BuildLine():
            ThreePointArc((12.735635, -4.478125), (13.307537, -2.271445), (13.5, 0))
            ThreePointArc((13.5, 0), (13.307537, 2.271445), (12.735635, 4.478125))
            ThreePointArc((12.735635, 4.478125), (9.545942, 9.545942), (4.478125, 12.735635))
            ThreePointArc((4.478125, 12.735635), (2.271445, 13.307537), (0, 13.5))
            ThreePointArc((0, 13.5), (-2.271445, 13.307537), (-4.478125, 12.735635))
            ThreePointArc((-4.478125, 12.735635), (-9.545942, 9.545942), (-12.735635, 4.478125))
            ThreePointArc((-12.735635, 4.478125), (-13.307537, 2.271445), (-13.5, 0))
            ThreePointArc((-13.5, 0), (-13.307537, -2.271445), (-12.735635, -4.478125))
            ThreePointArc((-12.735635, -4.478125), (-9.545942, -9.545942), (-4.478125, -12.735635))
            ThreePointArc((-4.478125, -12.735635), (-2.271445, -13.307537), (0, -13.5))
            ThreePointArc((0, -13.5), (2.271445, -13.307537), (4.478125, -12.735635))
            ThreePointArc((4.478125, -12.735635), (9.545942, -9.545942), (12.735635, -4.478125))
        make_face()
        Circle(F0_R, mode=Mode.SUBTRACT)
        with Locations((-1.835, 29.13)):
            Rectangle(F0_W, F0_H)
        with Locations((1.835, 29.13)):
            Rectangle(F0_W, F0_H)
        with Locations((29.13, 1.835)):
            Rectangle(F0_W_2, F0_H_2)
        with Locations((29.13, -1.835)):
            Rectangle(F0_W_2, F0_H_2)
        with Locations((-29.13, 1.835)):
            Rectangle(F0_W_2, F0_H_2)
        with Locations((-29.13, -1.835)):
            Rectangle(F0_W_2, F0_H_2)
        with Locations((-1.835, -29.13)):
            Rectangle(F0_W, F0_H)
        with Locations((1.835, -29.13)):
            Rectangle(F0_W, F0_H)
    extrude(amount=F4_DEPTH)


solid = f1.part
